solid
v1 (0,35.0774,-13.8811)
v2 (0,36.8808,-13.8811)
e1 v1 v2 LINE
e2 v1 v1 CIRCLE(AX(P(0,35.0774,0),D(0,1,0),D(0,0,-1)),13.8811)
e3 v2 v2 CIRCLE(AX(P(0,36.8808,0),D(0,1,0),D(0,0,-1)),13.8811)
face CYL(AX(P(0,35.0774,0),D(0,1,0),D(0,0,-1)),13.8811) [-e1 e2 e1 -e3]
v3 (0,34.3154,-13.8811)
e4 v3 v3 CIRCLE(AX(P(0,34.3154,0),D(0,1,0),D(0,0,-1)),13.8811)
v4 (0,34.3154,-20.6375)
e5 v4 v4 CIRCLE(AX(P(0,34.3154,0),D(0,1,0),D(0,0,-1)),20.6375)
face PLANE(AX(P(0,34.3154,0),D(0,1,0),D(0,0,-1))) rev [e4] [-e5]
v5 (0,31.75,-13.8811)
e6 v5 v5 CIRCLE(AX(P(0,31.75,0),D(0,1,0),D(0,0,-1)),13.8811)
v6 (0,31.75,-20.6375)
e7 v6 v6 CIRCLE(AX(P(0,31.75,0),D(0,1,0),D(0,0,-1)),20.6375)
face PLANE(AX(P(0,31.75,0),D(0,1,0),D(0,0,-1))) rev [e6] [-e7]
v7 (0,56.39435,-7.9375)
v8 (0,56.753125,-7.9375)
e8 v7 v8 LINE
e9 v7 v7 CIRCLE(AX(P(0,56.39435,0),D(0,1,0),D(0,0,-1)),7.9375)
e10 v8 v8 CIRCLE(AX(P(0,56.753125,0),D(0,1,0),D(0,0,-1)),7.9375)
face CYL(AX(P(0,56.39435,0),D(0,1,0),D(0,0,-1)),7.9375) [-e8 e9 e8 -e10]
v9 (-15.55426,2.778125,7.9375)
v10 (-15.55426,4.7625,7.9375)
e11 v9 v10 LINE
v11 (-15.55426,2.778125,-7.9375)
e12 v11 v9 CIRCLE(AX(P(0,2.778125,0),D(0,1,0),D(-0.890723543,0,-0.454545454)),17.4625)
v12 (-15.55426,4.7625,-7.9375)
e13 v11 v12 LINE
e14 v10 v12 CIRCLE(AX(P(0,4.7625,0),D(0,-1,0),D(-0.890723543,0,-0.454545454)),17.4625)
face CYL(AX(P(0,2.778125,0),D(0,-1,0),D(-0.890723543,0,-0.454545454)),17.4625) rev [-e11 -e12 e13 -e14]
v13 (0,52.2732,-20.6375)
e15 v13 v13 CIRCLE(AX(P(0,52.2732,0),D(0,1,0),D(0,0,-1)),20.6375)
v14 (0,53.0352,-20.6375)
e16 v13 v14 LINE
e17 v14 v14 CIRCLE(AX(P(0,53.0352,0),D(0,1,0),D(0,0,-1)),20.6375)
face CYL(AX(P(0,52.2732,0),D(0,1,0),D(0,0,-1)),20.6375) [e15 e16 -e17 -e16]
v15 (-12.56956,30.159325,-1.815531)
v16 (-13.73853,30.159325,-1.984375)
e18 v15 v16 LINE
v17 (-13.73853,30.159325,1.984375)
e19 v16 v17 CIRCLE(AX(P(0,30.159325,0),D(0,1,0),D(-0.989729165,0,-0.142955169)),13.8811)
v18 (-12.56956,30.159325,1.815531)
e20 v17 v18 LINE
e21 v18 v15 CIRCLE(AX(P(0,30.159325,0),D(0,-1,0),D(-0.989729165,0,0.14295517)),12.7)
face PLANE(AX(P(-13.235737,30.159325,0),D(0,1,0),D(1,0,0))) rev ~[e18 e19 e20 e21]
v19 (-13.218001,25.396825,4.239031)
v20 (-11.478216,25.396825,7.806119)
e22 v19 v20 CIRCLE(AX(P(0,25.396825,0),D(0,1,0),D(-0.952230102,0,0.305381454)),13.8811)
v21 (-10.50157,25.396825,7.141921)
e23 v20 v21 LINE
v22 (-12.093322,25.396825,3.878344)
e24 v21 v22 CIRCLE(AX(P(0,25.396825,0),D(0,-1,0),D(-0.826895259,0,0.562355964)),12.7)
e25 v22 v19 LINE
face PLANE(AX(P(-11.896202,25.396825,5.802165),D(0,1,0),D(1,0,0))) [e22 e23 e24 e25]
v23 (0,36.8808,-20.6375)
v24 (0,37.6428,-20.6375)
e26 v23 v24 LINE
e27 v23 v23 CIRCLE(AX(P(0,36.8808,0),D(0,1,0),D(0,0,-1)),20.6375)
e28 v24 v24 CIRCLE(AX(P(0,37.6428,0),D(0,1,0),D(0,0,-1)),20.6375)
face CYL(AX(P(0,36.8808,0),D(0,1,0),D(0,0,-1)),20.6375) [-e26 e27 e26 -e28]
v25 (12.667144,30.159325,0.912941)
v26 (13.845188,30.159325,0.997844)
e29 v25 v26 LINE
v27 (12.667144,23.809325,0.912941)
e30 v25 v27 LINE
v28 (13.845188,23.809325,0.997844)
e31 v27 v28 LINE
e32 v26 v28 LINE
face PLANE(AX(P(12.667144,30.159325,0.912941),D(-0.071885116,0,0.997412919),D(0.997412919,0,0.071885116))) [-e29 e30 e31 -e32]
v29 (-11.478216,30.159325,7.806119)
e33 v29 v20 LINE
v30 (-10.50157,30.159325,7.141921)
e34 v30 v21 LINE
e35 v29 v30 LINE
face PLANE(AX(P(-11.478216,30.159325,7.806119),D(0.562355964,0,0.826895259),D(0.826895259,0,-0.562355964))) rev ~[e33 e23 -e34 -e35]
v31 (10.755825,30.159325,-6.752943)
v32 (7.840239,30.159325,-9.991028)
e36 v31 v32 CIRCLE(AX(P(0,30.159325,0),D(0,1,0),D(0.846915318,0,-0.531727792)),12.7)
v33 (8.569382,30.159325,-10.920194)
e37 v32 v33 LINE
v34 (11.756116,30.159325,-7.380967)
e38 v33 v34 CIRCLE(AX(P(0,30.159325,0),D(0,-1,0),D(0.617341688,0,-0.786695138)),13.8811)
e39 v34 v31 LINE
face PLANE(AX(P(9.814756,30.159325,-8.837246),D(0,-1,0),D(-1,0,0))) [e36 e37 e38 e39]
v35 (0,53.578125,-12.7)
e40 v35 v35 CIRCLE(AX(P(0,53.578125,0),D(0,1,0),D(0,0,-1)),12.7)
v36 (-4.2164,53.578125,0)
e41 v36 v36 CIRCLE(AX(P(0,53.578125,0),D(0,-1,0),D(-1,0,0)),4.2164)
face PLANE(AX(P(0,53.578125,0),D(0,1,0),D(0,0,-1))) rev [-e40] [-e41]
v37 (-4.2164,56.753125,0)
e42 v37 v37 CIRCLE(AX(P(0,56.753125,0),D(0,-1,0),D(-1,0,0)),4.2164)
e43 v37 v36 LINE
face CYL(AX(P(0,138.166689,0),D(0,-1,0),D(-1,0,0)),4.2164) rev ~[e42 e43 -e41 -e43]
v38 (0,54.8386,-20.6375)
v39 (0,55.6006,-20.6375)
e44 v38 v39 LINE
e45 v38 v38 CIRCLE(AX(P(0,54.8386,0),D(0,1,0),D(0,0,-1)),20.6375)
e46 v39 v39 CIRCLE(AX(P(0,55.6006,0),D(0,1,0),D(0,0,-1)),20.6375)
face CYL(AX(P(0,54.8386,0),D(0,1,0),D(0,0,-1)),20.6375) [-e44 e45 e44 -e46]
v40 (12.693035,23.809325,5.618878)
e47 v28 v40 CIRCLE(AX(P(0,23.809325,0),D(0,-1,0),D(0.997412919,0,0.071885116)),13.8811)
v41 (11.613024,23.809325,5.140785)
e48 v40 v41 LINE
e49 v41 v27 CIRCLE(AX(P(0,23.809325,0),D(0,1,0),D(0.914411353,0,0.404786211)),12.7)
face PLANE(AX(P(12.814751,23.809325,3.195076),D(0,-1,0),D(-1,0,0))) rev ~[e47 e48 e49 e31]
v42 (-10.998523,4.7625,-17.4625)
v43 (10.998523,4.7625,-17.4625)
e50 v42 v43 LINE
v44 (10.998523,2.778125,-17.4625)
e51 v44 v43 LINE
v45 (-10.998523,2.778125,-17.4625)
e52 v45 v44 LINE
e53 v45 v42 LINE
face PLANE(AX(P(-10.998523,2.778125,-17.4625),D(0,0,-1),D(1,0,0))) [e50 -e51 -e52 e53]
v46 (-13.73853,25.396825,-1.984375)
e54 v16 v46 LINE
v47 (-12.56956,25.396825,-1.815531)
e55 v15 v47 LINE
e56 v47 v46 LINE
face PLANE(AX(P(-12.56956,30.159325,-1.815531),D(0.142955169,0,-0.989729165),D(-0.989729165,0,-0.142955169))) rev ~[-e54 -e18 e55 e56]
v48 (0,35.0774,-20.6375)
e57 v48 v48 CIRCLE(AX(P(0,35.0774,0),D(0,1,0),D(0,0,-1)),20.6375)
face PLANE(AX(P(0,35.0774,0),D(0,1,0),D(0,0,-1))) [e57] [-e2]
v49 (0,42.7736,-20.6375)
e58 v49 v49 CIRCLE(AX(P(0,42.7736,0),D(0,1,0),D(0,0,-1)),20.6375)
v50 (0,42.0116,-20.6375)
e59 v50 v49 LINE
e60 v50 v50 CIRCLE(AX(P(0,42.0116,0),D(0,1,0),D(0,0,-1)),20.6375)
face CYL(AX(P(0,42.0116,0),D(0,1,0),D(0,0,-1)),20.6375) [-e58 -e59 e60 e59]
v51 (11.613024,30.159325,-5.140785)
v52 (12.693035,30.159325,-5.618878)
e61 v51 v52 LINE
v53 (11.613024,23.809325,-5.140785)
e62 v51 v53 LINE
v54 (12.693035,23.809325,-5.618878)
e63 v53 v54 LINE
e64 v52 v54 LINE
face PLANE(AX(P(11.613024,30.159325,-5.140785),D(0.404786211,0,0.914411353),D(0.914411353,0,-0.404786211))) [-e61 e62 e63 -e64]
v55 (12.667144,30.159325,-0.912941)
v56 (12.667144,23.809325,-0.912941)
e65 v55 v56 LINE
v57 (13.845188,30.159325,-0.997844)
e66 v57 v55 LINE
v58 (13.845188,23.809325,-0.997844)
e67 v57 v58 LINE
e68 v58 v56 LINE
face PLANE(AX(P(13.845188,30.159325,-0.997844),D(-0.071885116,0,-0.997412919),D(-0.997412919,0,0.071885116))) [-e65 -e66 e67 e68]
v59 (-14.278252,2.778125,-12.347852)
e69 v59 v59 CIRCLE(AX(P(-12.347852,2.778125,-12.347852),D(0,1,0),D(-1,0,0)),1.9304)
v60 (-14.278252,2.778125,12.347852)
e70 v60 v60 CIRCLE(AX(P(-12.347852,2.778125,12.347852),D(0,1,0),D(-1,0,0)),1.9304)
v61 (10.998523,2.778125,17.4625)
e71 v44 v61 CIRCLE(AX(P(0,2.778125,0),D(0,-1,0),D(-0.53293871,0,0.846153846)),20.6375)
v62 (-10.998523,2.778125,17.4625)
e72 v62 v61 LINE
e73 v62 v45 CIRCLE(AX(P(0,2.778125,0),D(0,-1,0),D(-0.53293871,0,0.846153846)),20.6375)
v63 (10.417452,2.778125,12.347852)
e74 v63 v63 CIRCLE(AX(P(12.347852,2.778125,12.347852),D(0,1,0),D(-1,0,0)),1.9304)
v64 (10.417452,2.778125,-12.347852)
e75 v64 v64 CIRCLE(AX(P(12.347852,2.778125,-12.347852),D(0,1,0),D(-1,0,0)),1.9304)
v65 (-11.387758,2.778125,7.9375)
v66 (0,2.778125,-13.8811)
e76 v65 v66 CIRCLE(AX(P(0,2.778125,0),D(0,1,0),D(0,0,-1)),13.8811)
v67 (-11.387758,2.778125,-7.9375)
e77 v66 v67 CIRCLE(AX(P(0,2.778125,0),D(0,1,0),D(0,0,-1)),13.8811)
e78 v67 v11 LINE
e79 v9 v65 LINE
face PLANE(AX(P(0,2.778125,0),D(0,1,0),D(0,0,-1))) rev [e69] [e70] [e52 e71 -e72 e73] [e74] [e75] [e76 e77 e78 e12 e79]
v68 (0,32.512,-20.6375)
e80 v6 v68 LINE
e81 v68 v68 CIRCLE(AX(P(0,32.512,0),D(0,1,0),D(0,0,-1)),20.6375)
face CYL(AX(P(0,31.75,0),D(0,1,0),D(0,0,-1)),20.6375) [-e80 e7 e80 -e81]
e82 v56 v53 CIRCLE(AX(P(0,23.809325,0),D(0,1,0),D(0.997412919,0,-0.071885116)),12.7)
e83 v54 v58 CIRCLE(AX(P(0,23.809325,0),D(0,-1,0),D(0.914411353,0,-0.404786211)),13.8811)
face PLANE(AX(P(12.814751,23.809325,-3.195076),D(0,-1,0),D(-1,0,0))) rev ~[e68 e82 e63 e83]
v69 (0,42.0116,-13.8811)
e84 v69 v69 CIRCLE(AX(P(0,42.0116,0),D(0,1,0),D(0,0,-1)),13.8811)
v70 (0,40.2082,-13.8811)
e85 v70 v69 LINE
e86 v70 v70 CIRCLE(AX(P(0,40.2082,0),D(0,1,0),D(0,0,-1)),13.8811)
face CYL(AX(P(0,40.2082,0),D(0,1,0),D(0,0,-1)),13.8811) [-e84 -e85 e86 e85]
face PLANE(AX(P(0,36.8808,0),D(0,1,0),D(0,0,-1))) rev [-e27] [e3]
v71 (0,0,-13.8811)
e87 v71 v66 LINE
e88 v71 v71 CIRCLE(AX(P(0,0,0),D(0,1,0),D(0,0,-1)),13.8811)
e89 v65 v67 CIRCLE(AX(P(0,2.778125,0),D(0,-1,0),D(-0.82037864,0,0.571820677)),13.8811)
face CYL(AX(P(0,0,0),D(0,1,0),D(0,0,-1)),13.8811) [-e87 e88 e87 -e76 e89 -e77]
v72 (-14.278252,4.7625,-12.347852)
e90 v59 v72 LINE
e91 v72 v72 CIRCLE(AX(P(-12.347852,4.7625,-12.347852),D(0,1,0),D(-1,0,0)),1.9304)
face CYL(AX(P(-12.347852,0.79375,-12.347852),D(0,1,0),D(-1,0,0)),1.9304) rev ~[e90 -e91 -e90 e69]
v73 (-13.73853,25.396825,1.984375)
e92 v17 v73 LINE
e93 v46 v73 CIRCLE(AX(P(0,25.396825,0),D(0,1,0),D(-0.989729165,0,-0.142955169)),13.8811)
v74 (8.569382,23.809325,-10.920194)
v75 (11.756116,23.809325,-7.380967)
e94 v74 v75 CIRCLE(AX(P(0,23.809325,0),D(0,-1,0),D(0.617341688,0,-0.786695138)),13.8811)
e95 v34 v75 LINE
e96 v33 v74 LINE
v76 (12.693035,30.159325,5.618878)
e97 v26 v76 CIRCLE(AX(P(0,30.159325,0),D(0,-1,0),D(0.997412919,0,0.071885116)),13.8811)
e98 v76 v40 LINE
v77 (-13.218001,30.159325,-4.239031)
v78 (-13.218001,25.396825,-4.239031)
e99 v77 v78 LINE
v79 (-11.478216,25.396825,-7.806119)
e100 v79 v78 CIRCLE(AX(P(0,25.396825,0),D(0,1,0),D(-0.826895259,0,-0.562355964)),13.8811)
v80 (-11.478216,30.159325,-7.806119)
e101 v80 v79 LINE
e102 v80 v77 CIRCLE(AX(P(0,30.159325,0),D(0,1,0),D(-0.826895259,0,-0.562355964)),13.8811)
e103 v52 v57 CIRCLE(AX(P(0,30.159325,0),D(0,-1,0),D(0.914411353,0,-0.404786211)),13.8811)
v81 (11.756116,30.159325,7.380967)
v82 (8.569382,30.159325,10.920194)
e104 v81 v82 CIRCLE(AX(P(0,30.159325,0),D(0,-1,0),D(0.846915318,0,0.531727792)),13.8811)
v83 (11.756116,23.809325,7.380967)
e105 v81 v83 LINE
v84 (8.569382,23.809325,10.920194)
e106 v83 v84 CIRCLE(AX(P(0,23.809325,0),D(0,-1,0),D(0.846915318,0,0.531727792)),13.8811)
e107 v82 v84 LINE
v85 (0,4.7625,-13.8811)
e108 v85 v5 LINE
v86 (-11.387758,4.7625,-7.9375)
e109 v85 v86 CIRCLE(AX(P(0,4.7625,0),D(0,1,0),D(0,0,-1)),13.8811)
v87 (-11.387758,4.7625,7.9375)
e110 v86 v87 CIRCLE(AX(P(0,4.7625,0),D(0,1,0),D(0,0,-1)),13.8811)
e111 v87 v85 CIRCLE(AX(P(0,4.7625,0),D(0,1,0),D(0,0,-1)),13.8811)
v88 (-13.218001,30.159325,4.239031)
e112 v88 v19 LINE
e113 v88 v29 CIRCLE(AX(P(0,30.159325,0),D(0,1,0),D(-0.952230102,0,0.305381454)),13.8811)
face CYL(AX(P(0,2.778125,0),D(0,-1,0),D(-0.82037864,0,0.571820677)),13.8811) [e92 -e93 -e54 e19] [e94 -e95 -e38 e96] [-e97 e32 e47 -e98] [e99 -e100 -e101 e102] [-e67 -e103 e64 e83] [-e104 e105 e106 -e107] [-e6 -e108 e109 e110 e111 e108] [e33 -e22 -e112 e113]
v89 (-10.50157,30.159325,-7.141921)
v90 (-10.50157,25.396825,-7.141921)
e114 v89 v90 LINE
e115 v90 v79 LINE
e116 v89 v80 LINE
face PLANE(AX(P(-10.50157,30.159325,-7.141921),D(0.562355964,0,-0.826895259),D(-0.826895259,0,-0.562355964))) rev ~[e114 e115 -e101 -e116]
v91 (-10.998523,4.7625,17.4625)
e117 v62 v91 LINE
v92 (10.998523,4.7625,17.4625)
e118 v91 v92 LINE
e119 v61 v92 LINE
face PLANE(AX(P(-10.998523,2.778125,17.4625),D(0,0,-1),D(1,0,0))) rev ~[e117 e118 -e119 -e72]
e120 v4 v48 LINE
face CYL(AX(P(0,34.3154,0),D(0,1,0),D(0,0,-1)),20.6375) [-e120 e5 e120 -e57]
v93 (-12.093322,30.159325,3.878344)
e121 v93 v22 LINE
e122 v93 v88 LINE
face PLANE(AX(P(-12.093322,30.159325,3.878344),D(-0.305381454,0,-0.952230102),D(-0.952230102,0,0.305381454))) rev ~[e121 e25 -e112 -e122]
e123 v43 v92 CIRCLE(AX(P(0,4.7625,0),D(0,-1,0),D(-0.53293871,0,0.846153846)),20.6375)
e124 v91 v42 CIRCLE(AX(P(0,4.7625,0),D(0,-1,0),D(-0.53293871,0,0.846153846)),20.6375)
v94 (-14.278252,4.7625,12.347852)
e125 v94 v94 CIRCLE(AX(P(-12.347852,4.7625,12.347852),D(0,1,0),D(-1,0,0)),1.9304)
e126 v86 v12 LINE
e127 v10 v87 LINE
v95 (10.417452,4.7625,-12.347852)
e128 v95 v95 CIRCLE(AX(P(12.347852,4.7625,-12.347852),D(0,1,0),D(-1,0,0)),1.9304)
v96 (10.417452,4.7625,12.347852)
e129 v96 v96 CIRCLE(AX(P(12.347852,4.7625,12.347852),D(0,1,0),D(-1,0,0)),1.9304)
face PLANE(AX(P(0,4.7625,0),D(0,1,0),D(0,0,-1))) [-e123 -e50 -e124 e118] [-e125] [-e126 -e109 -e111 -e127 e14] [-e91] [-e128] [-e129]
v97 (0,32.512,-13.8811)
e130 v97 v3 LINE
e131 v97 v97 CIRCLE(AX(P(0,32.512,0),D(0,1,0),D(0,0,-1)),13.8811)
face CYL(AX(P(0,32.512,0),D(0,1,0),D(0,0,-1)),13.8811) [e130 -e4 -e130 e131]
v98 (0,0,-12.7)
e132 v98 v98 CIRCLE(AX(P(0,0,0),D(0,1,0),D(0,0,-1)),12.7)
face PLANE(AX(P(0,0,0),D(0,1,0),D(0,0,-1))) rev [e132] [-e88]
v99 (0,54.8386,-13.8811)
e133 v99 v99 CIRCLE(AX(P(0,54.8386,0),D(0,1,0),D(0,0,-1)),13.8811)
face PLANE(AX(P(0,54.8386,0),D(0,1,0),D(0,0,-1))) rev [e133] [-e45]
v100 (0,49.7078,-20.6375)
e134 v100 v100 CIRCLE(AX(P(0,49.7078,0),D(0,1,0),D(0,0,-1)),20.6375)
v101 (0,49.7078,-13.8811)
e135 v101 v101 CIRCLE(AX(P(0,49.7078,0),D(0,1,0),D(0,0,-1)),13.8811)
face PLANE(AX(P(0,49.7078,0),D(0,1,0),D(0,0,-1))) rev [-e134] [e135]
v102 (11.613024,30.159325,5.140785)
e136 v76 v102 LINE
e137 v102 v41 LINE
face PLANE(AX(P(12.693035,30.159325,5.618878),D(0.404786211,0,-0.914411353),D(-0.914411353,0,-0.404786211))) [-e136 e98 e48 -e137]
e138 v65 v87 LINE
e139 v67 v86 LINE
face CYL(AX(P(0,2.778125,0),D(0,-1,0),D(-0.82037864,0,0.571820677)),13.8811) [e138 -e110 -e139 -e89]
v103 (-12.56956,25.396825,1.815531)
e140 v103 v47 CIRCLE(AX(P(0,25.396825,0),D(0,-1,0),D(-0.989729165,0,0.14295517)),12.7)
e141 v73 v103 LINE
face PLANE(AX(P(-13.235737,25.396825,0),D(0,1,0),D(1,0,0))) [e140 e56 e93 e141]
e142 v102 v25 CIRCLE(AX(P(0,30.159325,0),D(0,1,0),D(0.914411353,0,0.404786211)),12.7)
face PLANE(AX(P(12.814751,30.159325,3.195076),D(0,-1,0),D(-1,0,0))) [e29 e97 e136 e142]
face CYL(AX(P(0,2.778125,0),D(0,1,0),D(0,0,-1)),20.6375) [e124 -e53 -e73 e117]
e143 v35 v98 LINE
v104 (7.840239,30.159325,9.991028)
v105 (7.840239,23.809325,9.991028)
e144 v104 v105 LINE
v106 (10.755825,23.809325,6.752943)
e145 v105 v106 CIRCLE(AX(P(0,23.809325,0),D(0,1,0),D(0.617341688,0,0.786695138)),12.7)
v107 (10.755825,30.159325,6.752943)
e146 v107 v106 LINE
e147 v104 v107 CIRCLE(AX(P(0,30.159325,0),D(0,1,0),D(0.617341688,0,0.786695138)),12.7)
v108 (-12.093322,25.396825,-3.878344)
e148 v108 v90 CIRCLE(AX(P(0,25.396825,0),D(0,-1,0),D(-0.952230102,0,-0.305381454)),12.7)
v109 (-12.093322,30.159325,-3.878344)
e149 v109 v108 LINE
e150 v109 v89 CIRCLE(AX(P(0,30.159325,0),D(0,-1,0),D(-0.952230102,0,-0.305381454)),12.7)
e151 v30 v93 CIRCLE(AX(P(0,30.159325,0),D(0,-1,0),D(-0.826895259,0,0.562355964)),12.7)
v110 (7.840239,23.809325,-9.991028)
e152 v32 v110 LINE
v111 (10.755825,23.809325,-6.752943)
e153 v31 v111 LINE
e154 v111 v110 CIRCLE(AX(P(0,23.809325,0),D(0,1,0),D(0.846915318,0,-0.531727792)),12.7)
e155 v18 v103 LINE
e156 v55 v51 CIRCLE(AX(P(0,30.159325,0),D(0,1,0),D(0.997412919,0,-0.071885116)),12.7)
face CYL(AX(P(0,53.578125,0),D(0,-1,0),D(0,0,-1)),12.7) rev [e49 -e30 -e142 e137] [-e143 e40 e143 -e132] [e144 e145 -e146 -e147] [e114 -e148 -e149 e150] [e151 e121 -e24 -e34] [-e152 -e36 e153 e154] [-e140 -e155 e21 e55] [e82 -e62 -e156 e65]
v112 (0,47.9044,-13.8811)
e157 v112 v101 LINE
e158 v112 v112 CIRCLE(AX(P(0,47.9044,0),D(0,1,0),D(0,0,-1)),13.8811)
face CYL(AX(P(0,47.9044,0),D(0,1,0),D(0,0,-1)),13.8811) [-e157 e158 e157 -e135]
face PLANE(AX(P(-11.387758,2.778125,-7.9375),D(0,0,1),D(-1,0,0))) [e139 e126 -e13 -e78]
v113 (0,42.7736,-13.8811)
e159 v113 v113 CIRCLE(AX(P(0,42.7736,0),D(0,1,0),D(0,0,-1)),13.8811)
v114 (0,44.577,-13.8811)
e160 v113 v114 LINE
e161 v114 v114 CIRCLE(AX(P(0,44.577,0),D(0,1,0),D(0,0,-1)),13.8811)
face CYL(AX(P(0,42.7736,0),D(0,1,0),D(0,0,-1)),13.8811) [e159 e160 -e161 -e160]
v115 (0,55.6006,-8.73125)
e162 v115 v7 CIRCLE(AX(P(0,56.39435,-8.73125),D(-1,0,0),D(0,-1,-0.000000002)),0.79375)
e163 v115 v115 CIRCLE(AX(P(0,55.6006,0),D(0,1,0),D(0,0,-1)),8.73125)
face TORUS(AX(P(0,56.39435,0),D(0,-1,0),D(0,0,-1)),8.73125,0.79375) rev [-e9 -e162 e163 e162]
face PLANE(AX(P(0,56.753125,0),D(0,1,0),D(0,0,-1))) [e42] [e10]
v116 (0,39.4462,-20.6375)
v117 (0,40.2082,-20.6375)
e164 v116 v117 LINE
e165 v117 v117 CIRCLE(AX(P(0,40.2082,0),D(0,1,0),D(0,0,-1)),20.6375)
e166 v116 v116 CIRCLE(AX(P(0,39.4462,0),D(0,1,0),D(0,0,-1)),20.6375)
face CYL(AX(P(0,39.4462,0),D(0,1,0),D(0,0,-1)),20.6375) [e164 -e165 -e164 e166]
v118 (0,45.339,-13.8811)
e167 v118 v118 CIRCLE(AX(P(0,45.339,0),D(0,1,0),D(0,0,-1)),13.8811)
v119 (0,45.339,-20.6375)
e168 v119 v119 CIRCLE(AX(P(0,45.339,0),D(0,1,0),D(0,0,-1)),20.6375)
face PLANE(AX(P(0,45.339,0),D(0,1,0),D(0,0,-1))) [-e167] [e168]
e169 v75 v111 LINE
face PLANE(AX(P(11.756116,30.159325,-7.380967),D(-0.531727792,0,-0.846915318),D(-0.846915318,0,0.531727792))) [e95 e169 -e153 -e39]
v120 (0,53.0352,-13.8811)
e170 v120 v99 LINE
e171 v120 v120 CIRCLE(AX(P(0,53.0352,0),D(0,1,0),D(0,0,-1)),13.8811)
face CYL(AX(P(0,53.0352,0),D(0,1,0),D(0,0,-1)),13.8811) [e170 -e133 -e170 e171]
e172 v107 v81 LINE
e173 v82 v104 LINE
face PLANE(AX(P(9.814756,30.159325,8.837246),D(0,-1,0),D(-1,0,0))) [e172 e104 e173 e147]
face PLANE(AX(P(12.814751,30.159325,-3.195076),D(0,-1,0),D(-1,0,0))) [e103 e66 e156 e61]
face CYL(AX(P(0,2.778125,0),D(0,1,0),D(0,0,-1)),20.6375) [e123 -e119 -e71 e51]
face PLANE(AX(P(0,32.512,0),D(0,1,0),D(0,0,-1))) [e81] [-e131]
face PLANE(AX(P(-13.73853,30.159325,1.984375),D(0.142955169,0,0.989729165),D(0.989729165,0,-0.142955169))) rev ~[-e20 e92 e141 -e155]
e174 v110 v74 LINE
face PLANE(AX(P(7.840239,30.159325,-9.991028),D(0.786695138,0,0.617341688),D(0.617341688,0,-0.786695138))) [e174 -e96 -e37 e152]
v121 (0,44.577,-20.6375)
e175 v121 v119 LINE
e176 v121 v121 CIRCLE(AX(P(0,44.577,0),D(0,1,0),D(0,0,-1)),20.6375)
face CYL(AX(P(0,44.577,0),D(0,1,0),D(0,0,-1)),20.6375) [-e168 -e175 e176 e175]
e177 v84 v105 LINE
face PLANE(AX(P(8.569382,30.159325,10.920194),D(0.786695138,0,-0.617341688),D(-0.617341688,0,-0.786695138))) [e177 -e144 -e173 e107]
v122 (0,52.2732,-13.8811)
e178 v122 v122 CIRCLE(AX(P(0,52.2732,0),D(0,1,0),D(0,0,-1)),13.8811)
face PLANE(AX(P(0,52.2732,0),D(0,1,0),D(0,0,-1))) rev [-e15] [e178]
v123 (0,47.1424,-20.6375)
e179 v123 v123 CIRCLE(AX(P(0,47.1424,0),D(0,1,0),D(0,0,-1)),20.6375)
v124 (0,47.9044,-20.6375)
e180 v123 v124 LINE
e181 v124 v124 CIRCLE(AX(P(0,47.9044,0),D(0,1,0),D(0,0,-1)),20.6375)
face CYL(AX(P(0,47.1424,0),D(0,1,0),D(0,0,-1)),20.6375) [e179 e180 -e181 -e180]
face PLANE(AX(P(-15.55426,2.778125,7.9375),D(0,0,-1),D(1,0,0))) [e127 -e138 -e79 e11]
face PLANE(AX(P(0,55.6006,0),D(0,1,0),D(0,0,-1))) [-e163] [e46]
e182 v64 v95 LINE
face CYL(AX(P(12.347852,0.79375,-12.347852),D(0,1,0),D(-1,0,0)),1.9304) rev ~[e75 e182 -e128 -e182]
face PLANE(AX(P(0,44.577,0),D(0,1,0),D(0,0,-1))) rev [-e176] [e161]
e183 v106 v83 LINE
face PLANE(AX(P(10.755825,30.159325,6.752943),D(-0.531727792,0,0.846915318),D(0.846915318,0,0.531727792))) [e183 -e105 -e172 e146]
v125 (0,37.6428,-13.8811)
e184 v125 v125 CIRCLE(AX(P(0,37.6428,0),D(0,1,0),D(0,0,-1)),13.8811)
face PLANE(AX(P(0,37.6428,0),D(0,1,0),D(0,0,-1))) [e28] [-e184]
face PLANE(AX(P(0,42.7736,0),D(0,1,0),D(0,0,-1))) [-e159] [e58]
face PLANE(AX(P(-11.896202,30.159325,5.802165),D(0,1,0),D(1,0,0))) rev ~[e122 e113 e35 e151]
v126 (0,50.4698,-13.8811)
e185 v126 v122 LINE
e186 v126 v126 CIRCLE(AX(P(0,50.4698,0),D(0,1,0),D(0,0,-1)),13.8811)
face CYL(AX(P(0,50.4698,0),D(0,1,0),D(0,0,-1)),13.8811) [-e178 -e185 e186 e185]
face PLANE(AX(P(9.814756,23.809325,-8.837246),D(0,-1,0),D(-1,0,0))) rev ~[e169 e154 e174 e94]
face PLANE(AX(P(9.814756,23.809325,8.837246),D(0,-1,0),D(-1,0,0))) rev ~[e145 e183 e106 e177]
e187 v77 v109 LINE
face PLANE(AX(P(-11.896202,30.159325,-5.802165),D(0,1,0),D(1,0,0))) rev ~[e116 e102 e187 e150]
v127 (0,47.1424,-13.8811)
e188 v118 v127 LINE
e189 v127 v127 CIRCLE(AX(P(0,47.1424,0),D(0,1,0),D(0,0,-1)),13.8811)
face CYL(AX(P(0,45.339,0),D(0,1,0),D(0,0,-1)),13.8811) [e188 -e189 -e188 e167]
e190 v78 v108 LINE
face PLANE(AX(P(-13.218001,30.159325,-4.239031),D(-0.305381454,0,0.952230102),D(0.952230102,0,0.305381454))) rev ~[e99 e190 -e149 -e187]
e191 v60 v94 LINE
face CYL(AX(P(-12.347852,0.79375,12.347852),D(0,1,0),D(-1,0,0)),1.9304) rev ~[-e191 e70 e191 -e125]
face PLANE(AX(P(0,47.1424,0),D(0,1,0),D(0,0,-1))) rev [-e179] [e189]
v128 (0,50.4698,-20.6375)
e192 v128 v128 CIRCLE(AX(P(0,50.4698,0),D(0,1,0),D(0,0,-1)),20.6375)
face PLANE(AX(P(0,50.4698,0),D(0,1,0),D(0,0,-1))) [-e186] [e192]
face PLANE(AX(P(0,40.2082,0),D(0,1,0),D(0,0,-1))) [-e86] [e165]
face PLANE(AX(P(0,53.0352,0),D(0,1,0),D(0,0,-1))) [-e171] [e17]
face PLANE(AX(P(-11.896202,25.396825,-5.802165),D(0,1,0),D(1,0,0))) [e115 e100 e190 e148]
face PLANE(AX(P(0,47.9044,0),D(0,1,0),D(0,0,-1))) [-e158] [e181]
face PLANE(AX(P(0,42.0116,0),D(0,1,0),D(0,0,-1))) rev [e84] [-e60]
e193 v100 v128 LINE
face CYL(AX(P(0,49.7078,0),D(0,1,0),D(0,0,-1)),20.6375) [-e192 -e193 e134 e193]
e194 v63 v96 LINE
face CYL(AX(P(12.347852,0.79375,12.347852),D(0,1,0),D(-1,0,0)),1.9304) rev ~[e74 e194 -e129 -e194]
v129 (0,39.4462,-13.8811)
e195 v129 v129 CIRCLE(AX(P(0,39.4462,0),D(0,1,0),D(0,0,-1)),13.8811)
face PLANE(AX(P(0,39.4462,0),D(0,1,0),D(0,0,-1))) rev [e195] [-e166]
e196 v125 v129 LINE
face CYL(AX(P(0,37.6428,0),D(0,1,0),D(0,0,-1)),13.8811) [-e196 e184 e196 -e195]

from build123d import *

# Parameters (mm, degrees)
F_3_8_24_TAPPED_HOLE1_D         = 8.4328
CUT_EXTRUDE1_DEPTH              = 6.35
CUT_EXTRUDE2_DEPTH              = 4.7625
F_24_0_152_DIAMETER_HOLE1_D     = 3.8608
F_24_0_152_DIAMETER_HOLE1_DEPTH = 1.984375
CUT_EXTRUDE3_REACH              = 63.361
CUT_EXTRUDE4_REACH              = 63.361


with BuildPart() as part:
    # Sketch1 → Revolve1 (revolve)
    with BuildSketch(Plane.XY, mode=Mode.PRIVATE) as revolve1_sk:
        with BuildLine():
            Line((13.8811, 0), (13.8811, 2.778125))
            Line((13.8811, 2.778125), (20.6375, 2.778125))
            Line((20.6375, 2.778125), (20.6375, 4.7625))
            Line((20.6375, 4.7625), (13.8811, 4.7625))
            Line((13.8811, 4.7625), (13.8811, 31.75))
            Line((13.8811, 31.75), (20.6375, 31.75))
            Line((20.6375, 31.75), (20.6375, 32.512))
            Line((20.6375, 32.512), (13.8811, 32.512))
            Line((13.8811, 32.512), (13.8811, 34.3154))
            Line((13.8811, 34.3154), (20.6375, 34.3154))
            Line((20.6375, 34.3154), (20.6375, 35.0774))
            Line((20.6375, 35.0774), (13.8811, 35.0774))
            Line((13.8811, 35.0774), (13.8811, 36.8808))
            Line((13.8811, 36.8808), (20.6375, 36.8808))
            Line((20.6375, 36.8808), (20.6375, 37.6428))
            Line((20.6375, 37.6428), (13.8811, 37.6428))
            Line((13.8811, 37.6428), (13.8811, 39.4462))
            Line((13.8811, 39.4462), (20.6375, 39.4462))
            Line((20.6375, 39.4462), (20.6375, 40.2082))
            Line((20.6375, 40.2082), (13.8811, 40.2082))
            Line((13.8811, 40.2082), (13.8811, 42.0116))
            Line((13.8811, 42.0116), (20.6375, 42.0116))
            Line((20.6375, 42.0116), (20.6375, 42.7736))
            Line((20.6375, 42.7736), (13.8811, 42.7736))
            Line((13.8811, 42.7736), (13.8811, 44.577))
            Line((13.8811, 44.577), (20.6375, 44.577))
            Line((20.6375, 44.577), (20.6375, 45.339))
            Line((20.6375, 45.339), (13.8811, 45.339))
            Line((13.8811, 45.339), (13.8811, 47.1424))
            Line((13.8811, 47.1424), (20.6375, 47.1424))
            Line((20.6375, 47.1424), (20.6375, 47.9044))
            Line((20.6375, 47.9044), (13.8811, 47.9044))
            Line((13.8811, 47.9044), (13.8811, 49.7078))
            Line((13.8811, 49.7078), (20.6375, 49.7078))
            Line((20.6375, 49.7078), (20.6375, 50.4698))
            Line((20.6375, 50.4698), (13.8811, 50.4698))
            Line((13.8811, 50.4698), (13.8811, 52.2732))
            Line((13.8811, 52.2732), (20.6375, 52.2732))
            Line((20.6375, 52.2732), (20.6375, 53.0352))
            Line((20.6375, 53.0352), (13.8811, 53.0352))
            Line((13.8811, 53.0352), (13.8811, 54.8386))
            Line((13.8811, 54.8386), (20.6375, 54.8386))
            Line((20.6375, 54.8386), (20.6375, 55.6006))
            Line((20.6375, 55.6006), (13.8811, 55.6006))
            Line((13.8811, 55.6006), (8.73125, 55.6006))
            ThreePointArc((8.73125, 55.6006), (8.169983992, 55.833083992), (7.9375, 56.39435))
            Line((7.9375, 56.39435), (7.9375, 56.753125))
            Line((7.9375, 56.753125), (0, 56.753125))
            Line((0, 56.753125), (0, 53.578125))
            Line((0, 53.578125), (12.7, 53.578125))
            Line((12.7, 53.578125), (12.7, 0))
            Line((12.7, 0), (13.8811, 0))
        make_face()
    revolve(revolve1_sk.sketch.rotate(Axis((0, 0, 0), (0, 1, 0)), 90), axis=Axis((0, 0, 0), (0, 1, 0)))

    # 3/8-24 Tapped Hole1 (through all)
    with Locations(Plane(origin=(0, 56.753125, 0), x_dir=(1, 0, 0), z_dir=(0, 1, 0))):
        with Locations((0, 0)):
            Hole(F_3_8_24_TAPPED_HOLE1_D / 2)

    # Sketch4 → Cut-Extrude1 (cut)
    with BuildSketch(Plane(origin=(0, 30.159325, 0), x_dir=(-1, 0, 0), z_dir=(0, -1, 0))):
        with BuildLine():
            Line((-7.840239437, 9.991028254), (-8.569381705, 10.920193881))
            ThreePointArc((-8.569381705, 10.920193881), (-10.315667637, 9.28826886), (-11.756116218, 7.38096665))
            Line((-11.756116218, 7.38096665), (-10.755824536, 6.752942955))
            ThreePointArc((-10.755824536, 6.752942955), (-9.437939284, 8.4979587), (-7.840239437, 9.991028254))
        make_face()
        with BuildLine():
            ThreePointArc((-11.756116218, -7.38096665), (-10.315667637, -9.28826886), (-8.569381705, -10.920193881))
            Line((-8.569381705, -10.920193881), (-7.840239437, -9.991028254))
            ThreePointArc((-7.840239437, -9.991028254), (-9.437939284, -8.4979587), (-10.755824536, -6.752942955))
            Line((-10.755824536, -6.752942955), (-11.756116218, -7.38096665))
        make_face()
        with BuildLine():
            ThreePointArc((-13.845188464, -0.997844484), (-13.468772006, -3.358142025), (-12.693035436, -5.61887788))
            Line((-12.693035436, -5.61887788), (-11.613024187, -5.140784886))
            ThreePointArc((-11.613024187, -5.140784886), (-12.322755724, -3.072408074), (-12.667144066, -0.912940973))
            Line((-12.667144066, -0.912940973), (-13.845188464, -0.997844484))
        make_face()
        with BuildLine():
            ThreePointArc((-12.693035436, 5.61887788), (-13.468772006, 3.358142025), (-13.845188464, 0.997844484))
            Line((-13.845188464, 0.997844484), (-12.667144066, 0.912940973))
            ThreePointArc((-12.667144066, 0.912940973), (-12.322755724, 3.072408074), (-11.613024187, 5.140784886))
            Line((-11.613024187, 5.140784886), (-12.693035436, 5.61887788))
        make_face()
    extrude(amount=CUT_EXTRUDE1_DEPTH, mode=Mode.SUBTRACT)

    # Sketch4<3> → Cut-Extrude2 (cut)
    with BuildSketch(Plane(origin=(0, 30.159325, 0), x_dir=(-1, 0, 0), z_dir=(0, -1, 0))):
        with BuildLine():
            Line((13.218001272, 4.2390305), (12.093322298, 3.878344465))
            ThreePointArc((12.093322298, 3.878344465), (11.414684388, 5.567313564), (10.501569792, 7.141920743))
            Line((10.501569792, 7.141920743), (11.478215783, 7.806119372))
            ThreePointArc((11.478215783, 7.806119372), (12.476250036, 6.085073726), (13.218001272, 4.2390305))
        make_face()
        with BuildLine():
            Line((13.738529509, -1.984375), (12.569560392, -1.81553065))
            ThreePointArc((12.569560392, -1.81553065), (12.7, 0), (12.569560392, 1.81553065))
            Line((12.569560392, 1.81553065), (13.738529509, 1.984375))
            ThreePointArc((13.738529509, 1.984375), (13.8811, 0), (13.738529509, -1.984375))
        make_face()
        with BuildLine():
            Line((11.478215783, -7.806119372), (10.501569792, -7.141920743))
            ThreePointArc((10.501569792, -7.141920743), (11.414684388, -5.567313564), (12.093322298, -3.878344465))
            Line((12.093322298, -3.878344465), (13.218001272, -4.2390305))
            ThreePointArc((13.218001272, -4.2390305), (12.476250036, -6.085073726), (11.478215783, -7.806119372))
        make_face()
    extrude(amount=CUT_EXTRUDE2_DEPTH, mode=Mode.SUBTRACT)

    # #24 (0.152) Diameter Hole1
    with Locations(Plane.XZ.offset(-2.778125)):
        with Locations((-12.347852166, 12.347852166), (12.347852166, 12.347852166), (12.347852166, -12.347852166), (-12.347852166, -12.347852166)):
            Hole(F_24_0_152_DIAMETER_HOLE1_D / 2, depth=F_24_0_152_DIAMETER_HOLE1_DEPTH)

    # Sketch5<2> → Cut-Extrude3 (cut, up to next)
    with BuildSketch(Plane.XZ.offset(-2.778125), mode=Mode.PRIVATE) as cut_extrude3_sk1:
        with BuildLine():
            Line((-10.998522628, 17.4625), (10.998522628, 17.4625))
            ThreePointArc((10.998522628, 17.4625), (0, 20.6375), (-10.998522628, 17.4625))
        make_face()
    cut_extrude3_tool1 = extrude(cut_extrude3_sk1.sketch, amount=-CUT_EXTRUDE3_REACH, mode=Mode.PRIVATE) & part.part
    # Sketch5<2> → Cut-Extrude3 (cut, up to next)
    with BuildSketch(Plane.XZ.offset(-2.778125), mode=Mode.PRIVATE) as cut_extrude3_sk2:
        with BuildLine():
            Line((-10.998522628, -17.4625), (10.998522628, -17.4625))
            ThreePointArc((10.998522628, -17.4625), (0, -20.6375), (-10.998522628, -17.4625))
        make_face()
    cut_extrude3_tool2 = extrude(cut_extrude3_sk2.sketch, amount=-CUT_EXTRUDE3_REACH, mode=Mode.PRIVATE) & part.part
    add(cut_extrude3_tool1.solids().sort_by_distance((0, 2.778125, 18.741265))[0], mode=Mode.SUBTRACT)
    add(cut_extrude3_tool2.solids().sort_by_distance((0, 2.778125, -18.741265))[0], mode=Mode.SUBTRACT)

    # Sketch9 → Cut-Extrude4 (cut, up to next)
    with BuildSketch(Plane.XZ.offset(-2.778125), mode=Mode.PRIVATE) as cut_extrude4_sk1:
        with BuildLine():
            Line((-11.387757943, -7.9375), (-15.554259867, -7.9375))
            ThreePointArc((-15.554259867, -7.9375), (-17.4625, 0), (-15.554259867, 7.9375))
            Line((-15.554259867, 7.9375), (-11.387757943, 7.9375))
            ThreePointArc((-11.387757943, 7.9375), (-13.8811, 0), (-11.387757943, -7.9375))
        make_face()
    cut_extrude4_tool1 = extrude(cut_extrude4_sk1.sketch, amount=-CUT_EXTRUDE4_REACH, mode=Mode.PRIVATE) & part.part
    add(cut_extrude4_tool1.solids().sort_by_distance((-14.932693, 2.778125, 0))[0], mode=Mode.SUBTRACT)


solid = part.part
